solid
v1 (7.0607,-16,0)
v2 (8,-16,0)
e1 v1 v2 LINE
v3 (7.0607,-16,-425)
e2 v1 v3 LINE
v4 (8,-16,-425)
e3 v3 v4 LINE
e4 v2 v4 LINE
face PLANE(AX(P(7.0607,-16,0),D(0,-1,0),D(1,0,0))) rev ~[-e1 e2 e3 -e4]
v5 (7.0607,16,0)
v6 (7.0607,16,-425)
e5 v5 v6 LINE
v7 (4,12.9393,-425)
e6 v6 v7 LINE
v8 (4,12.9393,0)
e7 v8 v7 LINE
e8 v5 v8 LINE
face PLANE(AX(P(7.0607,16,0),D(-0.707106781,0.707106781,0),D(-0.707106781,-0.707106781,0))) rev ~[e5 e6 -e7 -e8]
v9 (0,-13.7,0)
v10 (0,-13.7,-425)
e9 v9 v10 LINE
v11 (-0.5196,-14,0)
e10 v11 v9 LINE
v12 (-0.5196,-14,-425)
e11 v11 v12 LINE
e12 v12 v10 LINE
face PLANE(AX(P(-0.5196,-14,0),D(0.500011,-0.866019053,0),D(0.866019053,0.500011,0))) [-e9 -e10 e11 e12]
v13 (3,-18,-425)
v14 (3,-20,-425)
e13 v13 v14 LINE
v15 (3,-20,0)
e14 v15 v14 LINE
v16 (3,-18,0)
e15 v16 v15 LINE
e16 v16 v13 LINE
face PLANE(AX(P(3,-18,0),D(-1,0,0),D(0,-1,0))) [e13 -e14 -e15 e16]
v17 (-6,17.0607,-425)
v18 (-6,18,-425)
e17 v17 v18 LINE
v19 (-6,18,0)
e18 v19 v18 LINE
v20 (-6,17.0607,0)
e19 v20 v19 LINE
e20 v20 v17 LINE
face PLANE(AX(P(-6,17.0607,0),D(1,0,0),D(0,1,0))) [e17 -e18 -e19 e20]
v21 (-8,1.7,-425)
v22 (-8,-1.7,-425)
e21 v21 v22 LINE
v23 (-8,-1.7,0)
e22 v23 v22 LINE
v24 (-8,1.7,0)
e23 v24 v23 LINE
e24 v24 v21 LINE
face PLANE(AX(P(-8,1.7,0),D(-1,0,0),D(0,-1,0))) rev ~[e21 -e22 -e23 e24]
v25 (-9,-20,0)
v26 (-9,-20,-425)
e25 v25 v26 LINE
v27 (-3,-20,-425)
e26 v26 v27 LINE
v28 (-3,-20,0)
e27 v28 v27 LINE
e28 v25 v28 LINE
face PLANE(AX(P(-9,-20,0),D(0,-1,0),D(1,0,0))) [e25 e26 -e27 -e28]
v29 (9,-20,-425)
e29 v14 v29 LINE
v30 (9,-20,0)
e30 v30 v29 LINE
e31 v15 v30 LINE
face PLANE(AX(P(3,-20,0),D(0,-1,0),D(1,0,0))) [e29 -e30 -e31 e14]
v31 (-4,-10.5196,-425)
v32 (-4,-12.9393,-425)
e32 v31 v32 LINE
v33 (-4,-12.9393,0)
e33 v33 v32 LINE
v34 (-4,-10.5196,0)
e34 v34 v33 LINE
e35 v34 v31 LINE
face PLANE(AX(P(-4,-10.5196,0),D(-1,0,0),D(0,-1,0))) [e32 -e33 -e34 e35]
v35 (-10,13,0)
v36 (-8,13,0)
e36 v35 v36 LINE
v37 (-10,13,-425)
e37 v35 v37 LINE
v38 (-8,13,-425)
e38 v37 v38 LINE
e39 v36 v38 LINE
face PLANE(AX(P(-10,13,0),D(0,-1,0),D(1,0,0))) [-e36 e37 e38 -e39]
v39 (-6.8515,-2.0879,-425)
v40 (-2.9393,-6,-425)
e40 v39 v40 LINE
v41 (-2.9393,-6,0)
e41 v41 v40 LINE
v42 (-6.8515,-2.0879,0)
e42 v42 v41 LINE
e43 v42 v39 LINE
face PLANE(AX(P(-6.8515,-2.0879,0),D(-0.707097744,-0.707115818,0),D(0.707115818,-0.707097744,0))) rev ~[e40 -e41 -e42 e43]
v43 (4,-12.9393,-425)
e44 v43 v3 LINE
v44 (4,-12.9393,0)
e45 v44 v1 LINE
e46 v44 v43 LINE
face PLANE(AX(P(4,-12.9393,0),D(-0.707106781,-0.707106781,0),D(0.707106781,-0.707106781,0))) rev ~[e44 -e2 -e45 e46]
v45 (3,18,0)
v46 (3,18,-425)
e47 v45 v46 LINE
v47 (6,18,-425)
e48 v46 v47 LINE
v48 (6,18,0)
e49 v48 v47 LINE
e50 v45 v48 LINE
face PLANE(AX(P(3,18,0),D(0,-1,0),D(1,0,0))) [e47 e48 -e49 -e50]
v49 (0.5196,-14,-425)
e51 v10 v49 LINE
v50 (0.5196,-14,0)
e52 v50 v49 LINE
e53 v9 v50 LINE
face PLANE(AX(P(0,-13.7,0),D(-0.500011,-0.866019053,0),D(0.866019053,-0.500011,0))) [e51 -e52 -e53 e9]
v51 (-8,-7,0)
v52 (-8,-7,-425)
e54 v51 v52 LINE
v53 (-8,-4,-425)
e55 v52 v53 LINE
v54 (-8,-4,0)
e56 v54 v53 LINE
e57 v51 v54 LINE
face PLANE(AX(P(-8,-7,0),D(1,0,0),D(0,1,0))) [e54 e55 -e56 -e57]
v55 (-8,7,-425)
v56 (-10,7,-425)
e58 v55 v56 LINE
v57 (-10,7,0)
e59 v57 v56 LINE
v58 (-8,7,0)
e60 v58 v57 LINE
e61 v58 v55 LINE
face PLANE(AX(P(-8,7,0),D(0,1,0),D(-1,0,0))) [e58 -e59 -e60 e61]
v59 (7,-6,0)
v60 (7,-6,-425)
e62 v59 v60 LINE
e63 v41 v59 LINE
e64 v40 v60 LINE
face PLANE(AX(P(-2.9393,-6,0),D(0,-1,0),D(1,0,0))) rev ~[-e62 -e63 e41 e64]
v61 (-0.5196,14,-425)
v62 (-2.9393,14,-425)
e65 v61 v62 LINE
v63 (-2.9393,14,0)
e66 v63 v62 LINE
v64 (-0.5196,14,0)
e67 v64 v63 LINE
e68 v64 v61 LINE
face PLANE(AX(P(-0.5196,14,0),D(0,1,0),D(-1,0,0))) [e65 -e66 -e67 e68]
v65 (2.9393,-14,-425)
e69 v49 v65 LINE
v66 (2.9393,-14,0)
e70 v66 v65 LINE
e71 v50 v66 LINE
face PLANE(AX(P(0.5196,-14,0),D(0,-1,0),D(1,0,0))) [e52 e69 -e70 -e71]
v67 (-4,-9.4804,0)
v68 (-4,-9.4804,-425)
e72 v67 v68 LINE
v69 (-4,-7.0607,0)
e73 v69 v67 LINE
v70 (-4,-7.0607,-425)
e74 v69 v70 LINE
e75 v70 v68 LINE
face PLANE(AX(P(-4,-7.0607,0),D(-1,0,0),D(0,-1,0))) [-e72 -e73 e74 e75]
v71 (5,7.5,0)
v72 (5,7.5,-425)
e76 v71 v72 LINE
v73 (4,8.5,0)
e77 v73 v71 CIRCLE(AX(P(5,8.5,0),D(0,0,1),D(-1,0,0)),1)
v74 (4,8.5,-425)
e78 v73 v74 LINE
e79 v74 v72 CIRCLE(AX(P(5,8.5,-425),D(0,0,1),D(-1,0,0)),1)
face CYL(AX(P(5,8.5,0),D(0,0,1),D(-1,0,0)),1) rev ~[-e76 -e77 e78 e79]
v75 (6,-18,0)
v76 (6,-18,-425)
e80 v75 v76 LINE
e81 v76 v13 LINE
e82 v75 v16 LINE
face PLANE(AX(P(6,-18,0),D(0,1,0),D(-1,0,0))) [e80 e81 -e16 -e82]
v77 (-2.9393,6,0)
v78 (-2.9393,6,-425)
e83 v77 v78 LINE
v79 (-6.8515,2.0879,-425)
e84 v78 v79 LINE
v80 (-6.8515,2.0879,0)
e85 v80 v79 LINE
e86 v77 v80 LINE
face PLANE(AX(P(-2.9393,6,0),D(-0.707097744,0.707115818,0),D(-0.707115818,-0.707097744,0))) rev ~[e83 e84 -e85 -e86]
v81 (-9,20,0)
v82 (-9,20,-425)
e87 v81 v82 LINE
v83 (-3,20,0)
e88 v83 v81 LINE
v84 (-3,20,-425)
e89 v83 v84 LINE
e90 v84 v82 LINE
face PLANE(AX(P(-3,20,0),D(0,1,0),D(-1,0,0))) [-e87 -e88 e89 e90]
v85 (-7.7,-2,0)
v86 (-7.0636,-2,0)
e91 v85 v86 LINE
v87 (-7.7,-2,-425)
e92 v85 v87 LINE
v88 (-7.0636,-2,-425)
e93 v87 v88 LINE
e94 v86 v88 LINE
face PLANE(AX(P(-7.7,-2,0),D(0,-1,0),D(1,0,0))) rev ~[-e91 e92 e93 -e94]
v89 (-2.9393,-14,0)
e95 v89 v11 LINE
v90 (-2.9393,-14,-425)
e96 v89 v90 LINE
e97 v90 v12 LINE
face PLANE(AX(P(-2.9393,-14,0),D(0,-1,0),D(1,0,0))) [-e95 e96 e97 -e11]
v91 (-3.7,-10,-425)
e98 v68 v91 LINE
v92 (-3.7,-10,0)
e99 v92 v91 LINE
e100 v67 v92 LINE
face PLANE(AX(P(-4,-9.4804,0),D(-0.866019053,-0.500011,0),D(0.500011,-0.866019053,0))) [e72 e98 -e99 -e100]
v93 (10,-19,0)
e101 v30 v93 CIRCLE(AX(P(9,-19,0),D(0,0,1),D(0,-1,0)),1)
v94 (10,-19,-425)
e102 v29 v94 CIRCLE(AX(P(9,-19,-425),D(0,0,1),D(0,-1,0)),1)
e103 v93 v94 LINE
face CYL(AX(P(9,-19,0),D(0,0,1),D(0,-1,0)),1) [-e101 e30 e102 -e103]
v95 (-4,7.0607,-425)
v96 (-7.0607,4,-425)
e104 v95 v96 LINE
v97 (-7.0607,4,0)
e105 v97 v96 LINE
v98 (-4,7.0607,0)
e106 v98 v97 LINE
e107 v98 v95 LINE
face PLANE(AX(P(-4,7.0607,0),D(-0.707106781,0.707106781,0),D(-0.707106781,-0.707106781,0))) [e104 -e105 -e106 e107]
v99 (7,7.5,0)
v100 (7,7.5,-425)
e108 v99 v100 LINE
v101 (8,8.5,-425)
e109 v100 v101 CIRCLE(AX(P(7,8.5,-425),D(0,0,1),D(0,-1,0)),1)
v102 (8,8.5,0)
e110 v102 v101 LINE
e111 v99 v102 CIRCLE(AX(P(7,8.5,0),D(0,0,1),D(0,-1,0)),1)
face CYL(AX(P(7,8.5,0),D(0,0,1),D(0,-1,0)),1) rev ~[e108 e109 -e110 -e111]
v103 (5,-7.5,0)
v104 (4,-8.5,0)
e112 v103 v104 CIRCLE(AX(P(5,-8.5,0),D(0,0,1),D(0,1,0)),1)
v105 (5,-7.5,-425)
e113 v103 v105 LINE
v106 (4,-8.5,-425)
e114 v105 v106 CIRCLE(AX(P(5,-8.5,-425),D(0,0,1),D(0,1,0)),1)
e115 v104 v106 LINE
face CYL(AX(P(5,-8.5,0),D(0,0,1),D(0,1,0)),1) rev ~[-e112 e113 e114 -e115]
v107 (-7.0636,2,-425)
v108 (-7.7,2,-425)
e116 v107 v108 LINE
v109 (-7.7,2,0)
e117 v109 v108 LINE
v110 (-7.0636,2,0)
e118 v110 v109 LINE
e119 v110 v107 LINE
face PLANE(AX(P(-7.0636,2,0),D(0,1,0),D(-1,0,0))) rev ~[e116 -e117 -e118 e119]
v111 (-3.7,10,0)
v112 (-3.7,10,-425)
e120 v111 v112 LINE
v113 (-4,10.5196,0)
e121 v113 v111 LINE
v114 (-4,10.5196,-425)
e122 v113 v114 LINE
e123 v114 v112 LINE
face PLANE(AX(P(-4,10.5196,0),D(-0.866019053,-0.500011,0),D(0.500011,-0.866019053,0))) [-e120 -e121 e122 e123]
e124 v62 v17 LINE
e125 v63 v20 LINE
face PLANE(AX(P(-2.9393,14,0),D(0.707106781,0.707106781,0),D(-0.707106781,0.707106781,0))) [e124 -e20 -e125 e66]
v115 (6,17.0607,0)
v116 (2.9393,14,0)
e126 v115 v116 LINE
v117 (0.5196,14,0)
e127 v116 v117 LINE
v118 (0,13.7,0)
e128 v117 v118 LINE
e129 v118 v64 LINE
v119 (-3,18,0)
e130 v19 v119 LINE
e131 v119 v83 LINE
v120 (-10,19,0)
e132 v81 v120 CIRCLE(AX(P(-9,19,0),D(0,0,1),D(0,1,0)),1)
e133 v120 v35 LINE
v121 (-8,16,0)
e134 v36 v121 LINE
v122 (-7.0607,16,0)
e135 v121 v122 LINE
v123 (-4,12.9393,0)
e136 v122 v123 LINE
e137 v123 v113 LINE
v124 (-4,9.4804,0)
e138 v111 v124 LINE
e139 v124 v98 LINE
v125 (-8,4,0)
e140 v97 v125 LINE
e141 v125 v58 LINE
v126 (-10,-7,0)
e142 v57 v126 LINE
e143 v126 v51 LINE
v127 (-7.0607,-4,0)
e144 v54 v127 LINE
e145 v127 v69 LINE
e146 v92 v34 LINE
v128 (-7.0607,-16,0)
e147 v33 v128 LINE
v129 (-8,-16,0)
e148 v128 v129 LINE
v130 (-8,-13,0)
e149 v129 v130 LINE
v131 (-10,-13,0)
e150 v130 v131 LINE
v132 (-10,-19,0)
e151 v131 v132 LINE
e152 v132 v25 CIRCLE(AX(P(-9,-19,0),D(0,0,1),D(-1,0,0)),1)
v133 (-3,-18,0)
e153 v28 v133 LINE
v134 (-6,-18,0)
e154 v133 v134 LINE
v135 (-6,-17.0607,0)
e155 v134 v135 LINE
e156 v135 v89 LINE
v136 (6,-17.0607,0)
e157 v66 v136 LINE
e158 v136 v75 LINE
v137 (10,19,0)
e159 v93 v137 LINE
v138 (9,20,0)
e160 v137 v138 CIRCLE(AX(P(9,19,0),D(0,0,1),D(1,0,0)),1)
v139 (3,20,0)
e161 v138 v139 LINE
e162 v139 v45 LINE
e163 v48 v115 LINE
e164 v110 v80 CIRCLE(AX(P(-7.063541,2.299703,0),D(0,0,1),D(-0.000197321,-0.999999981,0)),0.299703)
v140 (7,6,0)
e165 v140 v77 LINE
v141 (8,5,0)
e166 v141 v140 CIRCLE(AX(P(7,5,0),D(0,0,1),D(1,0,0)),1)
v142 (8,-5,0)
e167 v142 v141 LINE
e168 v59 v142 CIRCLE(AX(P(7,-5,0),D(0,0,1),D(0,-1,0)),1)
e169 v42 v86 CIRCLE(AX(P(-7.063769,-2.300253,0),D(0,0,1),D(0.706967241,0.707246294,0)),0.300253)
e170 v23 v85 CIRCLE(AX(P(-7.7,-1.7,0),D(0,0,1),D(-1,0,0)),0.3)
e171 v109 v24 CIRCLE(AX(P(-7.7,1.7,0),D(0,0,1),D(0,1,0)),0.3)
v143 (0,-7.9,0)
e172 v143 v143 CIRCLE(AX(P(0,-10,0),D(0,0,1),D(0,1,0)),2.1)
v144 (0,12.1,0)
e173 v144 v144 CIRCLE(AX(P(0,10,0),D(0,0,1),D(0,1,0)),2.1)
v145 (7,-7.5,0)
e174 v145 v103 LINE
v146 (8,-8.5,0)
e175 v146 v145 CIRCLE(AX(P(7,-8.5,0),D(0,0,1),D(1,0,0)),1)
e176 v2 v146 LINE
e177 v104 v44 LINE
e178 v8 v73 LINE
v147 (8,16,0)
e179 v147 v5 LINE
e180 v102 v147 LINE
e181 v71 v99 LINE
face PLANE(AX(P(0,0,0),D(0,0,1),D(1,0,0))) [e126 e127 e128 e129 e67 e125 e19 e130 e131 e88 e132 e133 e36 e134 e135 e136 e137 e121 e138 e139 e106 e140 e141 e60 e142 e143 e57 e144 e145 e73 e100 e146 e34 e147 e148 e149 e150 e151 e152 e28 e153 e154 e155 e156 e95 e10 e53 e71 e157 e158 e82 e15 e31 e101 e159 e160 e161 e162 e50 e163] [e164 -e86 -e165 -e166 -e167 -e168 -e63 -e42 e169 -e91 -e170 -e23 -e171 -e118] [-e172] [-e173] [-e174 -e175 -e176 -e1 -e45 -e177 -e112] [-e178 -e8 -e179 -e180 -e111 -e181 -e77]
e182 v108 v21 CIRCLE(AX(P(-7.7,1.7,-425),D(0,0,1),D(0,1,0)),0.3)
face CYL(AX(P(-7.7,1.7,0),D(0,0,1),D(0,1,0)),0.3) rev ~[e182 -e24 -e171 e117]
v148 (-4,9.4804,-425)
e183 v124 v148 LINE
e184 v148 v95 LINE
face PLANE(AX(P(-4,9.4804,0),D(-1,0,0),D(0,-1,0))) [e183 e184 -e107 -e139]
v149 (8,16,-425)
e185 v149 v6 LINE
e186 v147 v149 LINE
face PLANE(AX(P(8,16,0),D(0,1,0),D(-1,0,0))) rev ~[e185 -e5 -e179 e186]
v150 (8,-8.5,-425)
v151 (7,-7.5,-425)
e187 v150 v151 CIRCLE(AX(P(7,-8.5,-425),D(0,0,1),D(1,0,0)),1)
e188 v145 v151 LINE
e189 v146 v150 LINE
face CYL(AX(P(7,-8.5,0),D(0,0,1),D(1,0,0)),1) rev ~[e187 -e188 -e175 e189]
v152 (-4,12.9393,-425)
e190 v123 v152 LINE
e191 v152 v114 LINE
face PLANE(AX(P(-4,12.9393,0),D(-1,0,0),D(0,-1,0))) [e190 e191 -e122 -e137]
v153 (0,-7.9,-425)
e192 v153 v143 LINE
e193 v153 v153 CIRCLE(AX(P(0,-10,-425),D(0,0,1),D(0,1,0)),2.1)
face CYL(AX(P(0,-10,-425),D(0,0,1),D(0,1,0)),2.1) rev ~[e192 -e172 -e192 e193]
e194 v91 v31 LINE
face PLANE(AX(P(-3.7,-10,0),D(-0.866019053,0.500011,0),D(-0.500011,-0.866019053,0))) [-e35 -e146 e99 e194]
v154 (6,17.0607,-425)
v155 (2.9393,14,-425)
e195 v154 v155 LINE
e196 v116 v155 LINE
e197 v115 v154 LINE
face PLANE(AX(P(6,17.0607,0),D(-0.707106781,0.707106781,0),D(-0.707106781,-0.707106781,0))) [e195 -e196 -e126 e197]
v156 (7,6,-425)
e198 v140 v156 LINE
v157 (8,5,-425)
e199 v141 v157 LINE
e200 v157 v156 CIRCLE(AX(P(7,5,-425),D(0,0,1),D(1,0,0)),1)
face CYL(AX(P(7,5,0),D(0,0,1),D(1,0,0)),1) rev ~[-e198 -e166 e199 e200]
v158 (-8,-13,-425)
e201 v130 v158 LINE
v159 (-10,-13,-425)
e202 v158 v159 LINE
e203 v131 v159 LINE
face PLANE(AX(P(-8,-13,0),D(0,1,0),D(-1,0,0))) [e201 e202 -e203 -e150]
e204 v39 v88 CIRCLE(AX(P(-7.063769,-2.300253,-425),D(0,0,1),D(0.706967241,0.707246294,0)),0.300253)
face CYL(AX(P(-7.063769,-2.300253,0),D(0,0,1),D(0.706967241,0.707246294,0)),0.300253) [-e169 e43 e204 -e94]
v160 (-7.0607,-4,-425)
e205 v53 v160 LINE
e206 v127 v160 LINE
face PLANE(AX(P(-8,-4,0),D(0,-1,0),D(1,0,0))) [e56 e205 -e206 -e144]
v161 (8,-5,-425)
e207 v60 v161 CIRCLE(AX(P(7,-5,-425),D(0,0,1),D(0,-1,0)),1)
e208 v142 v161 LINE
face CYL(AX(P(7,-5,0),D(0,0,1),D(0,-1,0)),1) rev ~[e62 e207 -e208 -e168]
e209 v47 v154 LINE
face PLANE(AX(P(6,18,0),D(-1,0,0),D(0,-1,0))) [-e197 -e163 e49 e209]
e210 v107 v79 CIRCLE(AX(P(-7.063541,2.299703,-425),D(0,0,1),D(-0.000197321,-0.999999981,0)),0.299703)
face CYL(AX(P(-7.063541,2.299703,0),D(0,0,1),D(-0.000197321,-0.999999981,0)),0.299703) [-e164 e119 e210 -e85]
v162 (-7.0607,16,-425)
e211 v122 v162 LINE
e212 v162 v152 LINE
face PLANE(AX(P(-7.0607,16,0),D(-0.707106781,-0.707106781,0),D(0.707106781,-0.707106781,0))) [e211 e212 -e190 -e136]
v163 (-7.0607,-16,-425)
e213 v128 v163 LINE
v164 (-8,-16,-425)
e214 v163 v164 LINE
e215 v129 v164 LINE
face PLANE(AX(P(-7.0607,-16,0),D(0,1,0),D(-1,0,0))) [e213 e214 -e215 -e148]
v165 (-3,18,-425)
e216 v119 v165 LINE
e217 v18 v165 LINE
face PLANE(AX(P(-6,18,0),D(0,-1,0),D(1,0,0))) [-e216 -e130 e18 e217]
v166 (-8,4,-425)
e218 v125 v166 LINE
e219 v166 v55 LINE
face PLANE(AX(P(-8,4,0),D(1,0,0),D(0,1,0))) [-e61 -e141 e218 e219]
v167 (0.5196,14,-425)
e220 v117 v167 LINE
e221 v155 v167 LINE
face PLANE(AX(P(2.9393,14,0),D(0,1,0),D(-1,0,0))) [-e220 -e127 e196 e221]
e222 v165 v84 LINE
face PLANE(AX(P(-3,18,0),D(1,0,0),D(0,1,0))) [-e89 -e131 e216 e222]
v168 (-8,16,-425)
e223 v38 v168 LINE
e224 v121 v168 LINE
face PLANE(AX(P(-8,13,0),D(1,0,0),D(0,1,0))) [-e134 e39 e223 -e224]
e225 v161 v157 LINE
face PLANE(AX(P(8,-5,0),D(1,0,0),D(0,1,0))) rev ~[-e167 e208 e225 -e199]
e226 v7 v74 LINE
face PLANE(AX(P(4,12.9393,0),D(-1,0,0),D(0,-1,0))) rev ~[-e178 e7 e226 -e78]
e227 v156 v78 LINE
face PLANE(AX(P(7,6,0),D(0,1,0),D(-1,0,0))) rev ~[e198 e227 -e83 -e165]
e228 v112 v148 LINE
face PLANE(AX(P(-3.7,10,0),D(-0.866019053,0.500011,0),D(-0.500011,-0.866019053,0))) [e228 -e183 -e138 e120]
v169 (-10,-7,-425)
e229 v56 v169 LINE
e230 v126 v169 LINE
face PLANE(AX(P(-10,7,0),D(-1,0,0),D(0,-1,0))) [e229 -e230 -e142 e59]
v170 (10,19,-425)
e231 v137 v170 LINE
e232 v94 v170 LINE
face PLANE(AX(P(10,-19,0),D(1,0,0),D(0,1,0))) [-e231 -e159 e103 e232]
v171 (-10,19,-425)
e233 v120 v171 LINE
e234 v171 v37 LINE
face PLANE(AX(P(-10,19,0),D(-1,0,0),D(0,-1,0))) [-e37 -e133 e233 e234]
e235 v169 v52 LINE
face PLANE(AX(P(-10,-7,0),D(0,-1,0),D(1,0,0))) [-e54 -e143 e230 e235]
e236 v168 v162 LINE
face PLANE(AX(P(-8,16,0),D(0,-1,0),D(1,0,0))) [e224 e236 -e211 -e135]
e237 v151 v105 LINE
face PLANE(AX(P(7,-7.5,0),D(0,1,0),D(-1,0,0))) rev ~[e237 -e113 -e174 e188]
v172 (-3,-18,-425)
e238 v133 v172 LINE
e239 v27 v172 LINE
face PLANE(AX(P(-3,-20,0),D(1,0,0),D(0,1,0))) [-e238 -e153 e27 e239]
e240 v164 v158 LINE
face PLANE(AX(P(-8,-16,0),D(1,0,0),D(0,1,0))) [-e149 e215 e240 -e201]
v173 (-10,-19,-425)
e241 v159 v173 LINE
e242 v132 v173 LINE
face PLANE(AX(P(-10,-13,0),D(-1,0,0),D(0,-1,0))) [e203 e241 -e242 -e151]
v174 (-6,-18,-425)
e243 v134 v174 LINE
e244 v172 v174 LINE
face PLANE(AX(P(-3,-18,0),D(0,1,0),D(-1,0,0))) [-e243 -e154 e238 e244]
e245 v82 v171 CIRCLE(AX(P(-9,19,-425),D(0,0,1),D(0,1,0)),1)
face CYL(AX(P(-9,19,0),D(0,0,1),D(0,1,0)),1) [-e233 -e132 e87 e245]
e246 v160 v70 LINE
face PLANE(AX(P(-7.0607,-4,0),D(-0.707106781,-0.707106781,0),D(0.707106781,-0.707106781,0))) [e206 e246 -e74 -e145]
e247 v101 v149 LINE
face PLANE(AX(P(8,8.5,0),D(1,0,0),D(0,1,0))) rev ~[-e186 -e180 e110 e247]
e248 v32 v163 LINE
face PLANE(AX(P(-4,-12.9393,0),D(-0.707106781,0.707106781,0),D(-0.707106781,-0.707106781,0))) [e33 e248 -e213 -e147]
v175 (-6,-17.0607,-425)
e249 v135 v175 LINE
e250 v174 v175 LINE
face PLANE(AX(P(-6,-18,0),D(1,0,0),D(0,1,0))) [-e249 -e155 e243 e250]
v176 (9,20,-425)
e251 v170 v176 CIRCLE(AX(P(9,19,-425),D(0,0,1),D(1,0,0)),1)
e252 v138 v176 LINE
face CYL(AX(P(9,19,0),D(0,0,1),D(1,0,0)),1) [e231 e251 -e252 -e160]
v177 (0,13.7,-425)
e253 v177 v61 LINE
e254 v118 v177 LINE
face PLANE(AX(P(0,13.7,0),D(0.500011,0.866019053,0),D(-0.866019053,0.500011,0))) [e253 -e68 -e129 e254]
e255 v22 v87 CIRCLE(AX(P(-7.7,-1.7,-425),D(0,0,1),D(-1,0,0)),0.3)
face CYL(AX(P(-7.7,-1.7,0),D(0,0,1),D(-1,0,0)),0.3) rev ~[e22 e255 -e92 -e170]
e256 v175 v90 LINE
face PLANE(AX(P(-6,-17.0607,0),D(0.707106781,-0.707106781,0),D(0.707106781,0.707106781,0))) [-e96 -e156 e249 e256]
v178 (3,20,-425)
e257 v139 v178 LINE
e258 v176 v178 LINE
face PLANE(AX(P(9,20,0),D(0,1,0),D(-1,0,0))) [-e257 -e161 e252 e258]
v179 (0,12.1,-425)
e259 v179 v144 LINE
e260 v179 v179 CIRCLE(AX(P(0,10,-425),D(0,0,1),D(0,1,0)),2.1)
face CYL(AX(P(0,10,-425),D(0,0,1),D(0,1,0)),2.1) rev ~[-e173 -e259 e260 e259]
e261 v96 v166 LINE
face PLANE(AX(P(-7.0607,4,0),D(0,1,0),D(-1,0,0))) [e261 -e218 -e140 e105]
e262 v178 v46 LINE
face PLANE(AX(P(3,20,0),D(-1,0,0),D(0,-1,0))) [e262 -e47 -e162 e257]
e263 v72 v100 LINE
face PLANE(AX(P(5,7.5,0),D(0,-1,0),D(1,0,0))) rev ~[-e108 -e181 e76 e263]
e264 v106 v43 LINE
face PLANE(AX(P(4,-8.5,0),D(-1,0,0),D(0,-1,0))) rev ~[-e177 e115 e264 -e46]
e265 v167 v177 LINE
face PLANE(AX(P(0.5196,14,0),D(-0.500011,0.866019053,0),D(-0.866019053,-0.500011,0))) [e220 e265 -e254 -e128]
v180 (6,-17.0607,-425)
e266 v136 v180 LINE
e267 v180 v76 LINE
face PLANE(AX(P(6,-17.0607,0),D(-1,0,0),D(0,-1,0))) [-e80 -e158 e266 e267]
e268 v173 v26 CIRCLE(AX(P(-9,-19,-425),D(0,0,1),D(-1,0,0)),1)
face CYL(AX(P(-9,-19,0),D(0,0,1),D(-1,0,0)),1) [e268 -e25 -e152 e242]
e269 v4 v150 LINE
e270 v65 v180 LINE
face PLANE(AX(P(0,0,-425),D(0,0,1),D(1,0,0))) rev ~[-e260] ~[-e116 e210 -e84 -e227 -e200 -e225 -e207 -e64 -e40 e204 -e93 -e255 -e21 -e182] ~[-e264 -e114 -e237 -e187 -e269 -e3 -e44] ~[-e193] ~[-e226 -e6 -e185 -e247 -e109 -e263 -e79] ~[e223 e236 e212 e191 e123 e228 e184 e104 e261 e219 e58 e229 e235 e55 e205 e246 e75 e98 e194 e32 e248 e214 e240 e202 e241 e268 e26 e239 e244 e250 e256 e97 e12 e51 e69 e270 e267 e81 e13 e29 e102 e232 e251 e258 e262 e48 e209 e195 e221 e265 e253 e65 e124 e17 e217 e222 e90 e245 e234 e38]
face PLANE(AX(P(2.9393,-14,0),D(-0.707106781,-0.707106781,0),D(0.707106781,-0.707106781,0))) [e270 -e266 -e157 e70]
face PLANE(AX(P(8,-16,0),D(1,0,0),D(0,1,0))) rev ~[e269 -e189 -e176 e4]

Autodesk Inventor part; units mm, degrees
sketch "Sketch_63" plane through (0, 0, 0) normal (0, 0, 1) x (1, 0, 0)
  line L0 (-10, -7) -> (-8, -7)
  line L1 (-8, -7) -> (-8, -4)
  line L2 (-8, -4) -> (-7.0607, -4)
  line L3 (-7.0607, -4) -> (-4, -7.0607)
  line L4 (-4, -7.0607) -> (-4, -9.4804)
  line L5 (-4, -9.4804) -> (-3.7, -10)
  line L6 (-3.7, -10) -> (-4, -10.5196)
  line L7 (-4, -10.5196) -> (-4, -12.9393)
  line L8 (-4, -12.9393) -> (-7.0607, -16)
  line L9 (-7.0607, -16) -> (-8, -16)
  line L10 (-8, -16) -> (-8, -13)
  line L11 (-8, -13) -> (-10, -13)
  line L12 (-10, -13) -> (-10, -19)
  arc A0 (-10, -19) -> (-9, -20) centre (-9, -19) ccw
  line L13 (-9, -20) -> (-3, -20)
  line L14 (-3, -20) -> (-3, -18)
  line L15 (-3, -18) -> (-6, -18)
  line L16 (-6, -18) -> (-6, -17.0607)
  line L17 (-6, -17.0607) -> (-2.9393, -14)
  line L18 (-2.9393, -14) -> (-0.5196, -14)
  line L19 (-0.5196, -14) -> (0, -13.7)
  line L20 (0, -13.7) -> (0.5196, -14)
  line L21 (0.5196, -14) -> (2.9393, -14)
  line L22 (2.9393, -14) -> (6, -17.0607)
  line L23 (6, -17.0607) -> (6, -18)
  line L24 (6, -18) -> (3, -18)
  line L25 (3, -18) -> (3, -20)
  line L26 (3, -20) -> (9, -20)
  arc A1 (9, -20) -> (10, -19) centre (9, -19) ccw
  line L27 (10, -19) -> (10, 19)
  arc A2 (10, 19) -> (9, 20) centre (9, 19) ccw
  line L28 (9, 20) -> (3, 20)
  line L29 (3, 20) -> (3, 18)
  line L30 (3, 18) -> (6, 18)
  line L31 (6, 18) -> (6, 17.0607)
  line L32 (6, 17.0607) -> (2.9393, 14)
  line L33 (2.9393, 14) -> (0.5196, 14)
  line L34 (0.5196, 14) -> (0, 13.7)
  line L35 (0, 13.7) -> (-0.5196, 14)
  line L36 (-0.5196, 14) -> (-2.9393, 14)
  line L37 (-2.9393, 14) -> (-6, 17.0607)
  line L38 (-6, 17.0607) -> (-6, 18)
  line L39 (-6, 18) -> (-3, 18)
  line L40 (-3, 18) -> (-3, 20)
  line L41 (-3, 20) -> (-9, 20)
  arc A3 (-9, 20) -> (-10, 19) centre (-9, 19) ccw
  line L42 (-10, 19) -> (-10, 13)
  line L43 (-10, 13) -> (-8, 13)
  line L44 (-8, 13) -> (-8, 16)
  line L45 (-8, 16) -> (-7.0607, 16)
  line L46 (-7.0607, 16) -> (-4, 12.9393)
  line L47 (-4, 12.9393) -> (-4, 10.5196)
  line L48 (-4, 10.5196) -> (-3.7, 10)
  line L49 (-3.7, 10) -> (-4, 9.4804)
  line L50 (-4, 9.4804) -> (-4, 7.0607)
  line L51 (-4, 7.0607) -> (-7.0607, 4)
  line L52 (-7.0607, 4) -> (-8, 4)
  line L53 (-8, 4) -> (-8, 7)
  line L54 (-8, 7) -> (-10, 7)
  line L55 (-10, 7) -> (-10, -7)
  line L56 (4, 12.9393) -> (4, 8.5)
  arc A4 (4, 8.5) -> (5, 7.5) centre (5, 8.5) ccw
  line L57 (5, 7.5) -> (7, 7.5)
  arc A5 (7, 7.5) -> (8, 8.5) centre (7, 8.5) ccw
  line L58 (8, 8.5) -> (8, 16)
  line L59 (8, 16) -> (7.0607, 16)
  line L60 (7.0607, 16) -> (4, 12.9393)
  line L61 (4, -12.9393) -> (7.0607, -16)
  line L62 (7.0607, -16) -> (8, -16)
  line L63 (8, -16) -> (8, -8.5)
  arc A6 (8, -8.5) -> (7, -7.5) centre (7, -8.5) ccw
  line L64 (7, -7.5) -> (5, -7.5)
  arc A7 (5, -7.5) -> (4, -8.5) centre (5, -8.5) ccw
  line L65 (4, -8.5) -> (4, -12.9393)
  line L66 (-8, 1.7) -> (-8, -1.7)
  arc A8 (-8, -1.7) -> (-7.7, -2) centre (-7.7, -1.7) ccw
  line L67 (-7.7, -2) -> (-7.0636, -2)
  arc A9 (-6.8515, -2.0879) -> (-7.0636, -2) centre (-7.0636, -2.3) ccw
  line L68 (-6.8515, -2.0879) -> (-2.9393, -6)
  line L69 (-2.9393, -6) -> (7, -6)
  arc A10 (7, -6) -> (8, -5) centre (7, -5) ccw
  line L70 (8, -5) -> (8, 5)
  arc A11 (8, 5) -> (7, 6) centre (7, 5) ccw
  line L71 (7, 6) -> (-2.9393, 6)
  line L72 (-2.9393, 6) -> (-6.8515, 2.0879)
  arc A12 (-7.0636, 2) -> (-6.8515, 2.0879) centre (-7.0636, 2.3) ccw
  line L73 (-7.0636, 2) -> (-7.7, 2)
  arc A13 (-7.7, 2) -> (-8, 1.7) centre (-7.7, 1.7) ccw
extrude "Extrusion1" add sketch "Sketch_63" against normal blind 425
sketch "Sketch2" plane through (0, 0, -425) normal (0, 0, -1) x (-1, 0, 0)
  point P0 (0, 10)
hole "Hole1" at (0, 10, -425) direction (0, 0, 1) diameter 4.2 end through all
pattern_linear "Rectangular Pattern1" count 2 spacing 20 along (0, -1, 0) of "Hole1"
ref_plane "C1_XY" through (0, 0, 0) normal (0, 0, 1) x (1, 0, 0)
ref_plane "C1_YZ" through (0, 0, 0) normal (1, 0, 0) x (0, 1, 0)
ref_plane "C1_ZX" through (0, 0, 0) normal (0, 1, 0) x (0, 0, 1)
thread "Thread1" size "M5x0.8" class "6H" standard "ANSI Metric M Profile" length 10
thread "Thread2" size "M5x0.8" class "6H" standard "ANSI Metric M Profile" length 10
thread "Thread3" size "M5x0.8" class "6H" standard "ANSI Metric M Profile" length 10
thread "Thread4" size "M4.5x0.75" class "6H" standard "ANSI Metric M Profile" length 10
properties part number "HFSF5-2040-425" material "Aluminum 6061"
